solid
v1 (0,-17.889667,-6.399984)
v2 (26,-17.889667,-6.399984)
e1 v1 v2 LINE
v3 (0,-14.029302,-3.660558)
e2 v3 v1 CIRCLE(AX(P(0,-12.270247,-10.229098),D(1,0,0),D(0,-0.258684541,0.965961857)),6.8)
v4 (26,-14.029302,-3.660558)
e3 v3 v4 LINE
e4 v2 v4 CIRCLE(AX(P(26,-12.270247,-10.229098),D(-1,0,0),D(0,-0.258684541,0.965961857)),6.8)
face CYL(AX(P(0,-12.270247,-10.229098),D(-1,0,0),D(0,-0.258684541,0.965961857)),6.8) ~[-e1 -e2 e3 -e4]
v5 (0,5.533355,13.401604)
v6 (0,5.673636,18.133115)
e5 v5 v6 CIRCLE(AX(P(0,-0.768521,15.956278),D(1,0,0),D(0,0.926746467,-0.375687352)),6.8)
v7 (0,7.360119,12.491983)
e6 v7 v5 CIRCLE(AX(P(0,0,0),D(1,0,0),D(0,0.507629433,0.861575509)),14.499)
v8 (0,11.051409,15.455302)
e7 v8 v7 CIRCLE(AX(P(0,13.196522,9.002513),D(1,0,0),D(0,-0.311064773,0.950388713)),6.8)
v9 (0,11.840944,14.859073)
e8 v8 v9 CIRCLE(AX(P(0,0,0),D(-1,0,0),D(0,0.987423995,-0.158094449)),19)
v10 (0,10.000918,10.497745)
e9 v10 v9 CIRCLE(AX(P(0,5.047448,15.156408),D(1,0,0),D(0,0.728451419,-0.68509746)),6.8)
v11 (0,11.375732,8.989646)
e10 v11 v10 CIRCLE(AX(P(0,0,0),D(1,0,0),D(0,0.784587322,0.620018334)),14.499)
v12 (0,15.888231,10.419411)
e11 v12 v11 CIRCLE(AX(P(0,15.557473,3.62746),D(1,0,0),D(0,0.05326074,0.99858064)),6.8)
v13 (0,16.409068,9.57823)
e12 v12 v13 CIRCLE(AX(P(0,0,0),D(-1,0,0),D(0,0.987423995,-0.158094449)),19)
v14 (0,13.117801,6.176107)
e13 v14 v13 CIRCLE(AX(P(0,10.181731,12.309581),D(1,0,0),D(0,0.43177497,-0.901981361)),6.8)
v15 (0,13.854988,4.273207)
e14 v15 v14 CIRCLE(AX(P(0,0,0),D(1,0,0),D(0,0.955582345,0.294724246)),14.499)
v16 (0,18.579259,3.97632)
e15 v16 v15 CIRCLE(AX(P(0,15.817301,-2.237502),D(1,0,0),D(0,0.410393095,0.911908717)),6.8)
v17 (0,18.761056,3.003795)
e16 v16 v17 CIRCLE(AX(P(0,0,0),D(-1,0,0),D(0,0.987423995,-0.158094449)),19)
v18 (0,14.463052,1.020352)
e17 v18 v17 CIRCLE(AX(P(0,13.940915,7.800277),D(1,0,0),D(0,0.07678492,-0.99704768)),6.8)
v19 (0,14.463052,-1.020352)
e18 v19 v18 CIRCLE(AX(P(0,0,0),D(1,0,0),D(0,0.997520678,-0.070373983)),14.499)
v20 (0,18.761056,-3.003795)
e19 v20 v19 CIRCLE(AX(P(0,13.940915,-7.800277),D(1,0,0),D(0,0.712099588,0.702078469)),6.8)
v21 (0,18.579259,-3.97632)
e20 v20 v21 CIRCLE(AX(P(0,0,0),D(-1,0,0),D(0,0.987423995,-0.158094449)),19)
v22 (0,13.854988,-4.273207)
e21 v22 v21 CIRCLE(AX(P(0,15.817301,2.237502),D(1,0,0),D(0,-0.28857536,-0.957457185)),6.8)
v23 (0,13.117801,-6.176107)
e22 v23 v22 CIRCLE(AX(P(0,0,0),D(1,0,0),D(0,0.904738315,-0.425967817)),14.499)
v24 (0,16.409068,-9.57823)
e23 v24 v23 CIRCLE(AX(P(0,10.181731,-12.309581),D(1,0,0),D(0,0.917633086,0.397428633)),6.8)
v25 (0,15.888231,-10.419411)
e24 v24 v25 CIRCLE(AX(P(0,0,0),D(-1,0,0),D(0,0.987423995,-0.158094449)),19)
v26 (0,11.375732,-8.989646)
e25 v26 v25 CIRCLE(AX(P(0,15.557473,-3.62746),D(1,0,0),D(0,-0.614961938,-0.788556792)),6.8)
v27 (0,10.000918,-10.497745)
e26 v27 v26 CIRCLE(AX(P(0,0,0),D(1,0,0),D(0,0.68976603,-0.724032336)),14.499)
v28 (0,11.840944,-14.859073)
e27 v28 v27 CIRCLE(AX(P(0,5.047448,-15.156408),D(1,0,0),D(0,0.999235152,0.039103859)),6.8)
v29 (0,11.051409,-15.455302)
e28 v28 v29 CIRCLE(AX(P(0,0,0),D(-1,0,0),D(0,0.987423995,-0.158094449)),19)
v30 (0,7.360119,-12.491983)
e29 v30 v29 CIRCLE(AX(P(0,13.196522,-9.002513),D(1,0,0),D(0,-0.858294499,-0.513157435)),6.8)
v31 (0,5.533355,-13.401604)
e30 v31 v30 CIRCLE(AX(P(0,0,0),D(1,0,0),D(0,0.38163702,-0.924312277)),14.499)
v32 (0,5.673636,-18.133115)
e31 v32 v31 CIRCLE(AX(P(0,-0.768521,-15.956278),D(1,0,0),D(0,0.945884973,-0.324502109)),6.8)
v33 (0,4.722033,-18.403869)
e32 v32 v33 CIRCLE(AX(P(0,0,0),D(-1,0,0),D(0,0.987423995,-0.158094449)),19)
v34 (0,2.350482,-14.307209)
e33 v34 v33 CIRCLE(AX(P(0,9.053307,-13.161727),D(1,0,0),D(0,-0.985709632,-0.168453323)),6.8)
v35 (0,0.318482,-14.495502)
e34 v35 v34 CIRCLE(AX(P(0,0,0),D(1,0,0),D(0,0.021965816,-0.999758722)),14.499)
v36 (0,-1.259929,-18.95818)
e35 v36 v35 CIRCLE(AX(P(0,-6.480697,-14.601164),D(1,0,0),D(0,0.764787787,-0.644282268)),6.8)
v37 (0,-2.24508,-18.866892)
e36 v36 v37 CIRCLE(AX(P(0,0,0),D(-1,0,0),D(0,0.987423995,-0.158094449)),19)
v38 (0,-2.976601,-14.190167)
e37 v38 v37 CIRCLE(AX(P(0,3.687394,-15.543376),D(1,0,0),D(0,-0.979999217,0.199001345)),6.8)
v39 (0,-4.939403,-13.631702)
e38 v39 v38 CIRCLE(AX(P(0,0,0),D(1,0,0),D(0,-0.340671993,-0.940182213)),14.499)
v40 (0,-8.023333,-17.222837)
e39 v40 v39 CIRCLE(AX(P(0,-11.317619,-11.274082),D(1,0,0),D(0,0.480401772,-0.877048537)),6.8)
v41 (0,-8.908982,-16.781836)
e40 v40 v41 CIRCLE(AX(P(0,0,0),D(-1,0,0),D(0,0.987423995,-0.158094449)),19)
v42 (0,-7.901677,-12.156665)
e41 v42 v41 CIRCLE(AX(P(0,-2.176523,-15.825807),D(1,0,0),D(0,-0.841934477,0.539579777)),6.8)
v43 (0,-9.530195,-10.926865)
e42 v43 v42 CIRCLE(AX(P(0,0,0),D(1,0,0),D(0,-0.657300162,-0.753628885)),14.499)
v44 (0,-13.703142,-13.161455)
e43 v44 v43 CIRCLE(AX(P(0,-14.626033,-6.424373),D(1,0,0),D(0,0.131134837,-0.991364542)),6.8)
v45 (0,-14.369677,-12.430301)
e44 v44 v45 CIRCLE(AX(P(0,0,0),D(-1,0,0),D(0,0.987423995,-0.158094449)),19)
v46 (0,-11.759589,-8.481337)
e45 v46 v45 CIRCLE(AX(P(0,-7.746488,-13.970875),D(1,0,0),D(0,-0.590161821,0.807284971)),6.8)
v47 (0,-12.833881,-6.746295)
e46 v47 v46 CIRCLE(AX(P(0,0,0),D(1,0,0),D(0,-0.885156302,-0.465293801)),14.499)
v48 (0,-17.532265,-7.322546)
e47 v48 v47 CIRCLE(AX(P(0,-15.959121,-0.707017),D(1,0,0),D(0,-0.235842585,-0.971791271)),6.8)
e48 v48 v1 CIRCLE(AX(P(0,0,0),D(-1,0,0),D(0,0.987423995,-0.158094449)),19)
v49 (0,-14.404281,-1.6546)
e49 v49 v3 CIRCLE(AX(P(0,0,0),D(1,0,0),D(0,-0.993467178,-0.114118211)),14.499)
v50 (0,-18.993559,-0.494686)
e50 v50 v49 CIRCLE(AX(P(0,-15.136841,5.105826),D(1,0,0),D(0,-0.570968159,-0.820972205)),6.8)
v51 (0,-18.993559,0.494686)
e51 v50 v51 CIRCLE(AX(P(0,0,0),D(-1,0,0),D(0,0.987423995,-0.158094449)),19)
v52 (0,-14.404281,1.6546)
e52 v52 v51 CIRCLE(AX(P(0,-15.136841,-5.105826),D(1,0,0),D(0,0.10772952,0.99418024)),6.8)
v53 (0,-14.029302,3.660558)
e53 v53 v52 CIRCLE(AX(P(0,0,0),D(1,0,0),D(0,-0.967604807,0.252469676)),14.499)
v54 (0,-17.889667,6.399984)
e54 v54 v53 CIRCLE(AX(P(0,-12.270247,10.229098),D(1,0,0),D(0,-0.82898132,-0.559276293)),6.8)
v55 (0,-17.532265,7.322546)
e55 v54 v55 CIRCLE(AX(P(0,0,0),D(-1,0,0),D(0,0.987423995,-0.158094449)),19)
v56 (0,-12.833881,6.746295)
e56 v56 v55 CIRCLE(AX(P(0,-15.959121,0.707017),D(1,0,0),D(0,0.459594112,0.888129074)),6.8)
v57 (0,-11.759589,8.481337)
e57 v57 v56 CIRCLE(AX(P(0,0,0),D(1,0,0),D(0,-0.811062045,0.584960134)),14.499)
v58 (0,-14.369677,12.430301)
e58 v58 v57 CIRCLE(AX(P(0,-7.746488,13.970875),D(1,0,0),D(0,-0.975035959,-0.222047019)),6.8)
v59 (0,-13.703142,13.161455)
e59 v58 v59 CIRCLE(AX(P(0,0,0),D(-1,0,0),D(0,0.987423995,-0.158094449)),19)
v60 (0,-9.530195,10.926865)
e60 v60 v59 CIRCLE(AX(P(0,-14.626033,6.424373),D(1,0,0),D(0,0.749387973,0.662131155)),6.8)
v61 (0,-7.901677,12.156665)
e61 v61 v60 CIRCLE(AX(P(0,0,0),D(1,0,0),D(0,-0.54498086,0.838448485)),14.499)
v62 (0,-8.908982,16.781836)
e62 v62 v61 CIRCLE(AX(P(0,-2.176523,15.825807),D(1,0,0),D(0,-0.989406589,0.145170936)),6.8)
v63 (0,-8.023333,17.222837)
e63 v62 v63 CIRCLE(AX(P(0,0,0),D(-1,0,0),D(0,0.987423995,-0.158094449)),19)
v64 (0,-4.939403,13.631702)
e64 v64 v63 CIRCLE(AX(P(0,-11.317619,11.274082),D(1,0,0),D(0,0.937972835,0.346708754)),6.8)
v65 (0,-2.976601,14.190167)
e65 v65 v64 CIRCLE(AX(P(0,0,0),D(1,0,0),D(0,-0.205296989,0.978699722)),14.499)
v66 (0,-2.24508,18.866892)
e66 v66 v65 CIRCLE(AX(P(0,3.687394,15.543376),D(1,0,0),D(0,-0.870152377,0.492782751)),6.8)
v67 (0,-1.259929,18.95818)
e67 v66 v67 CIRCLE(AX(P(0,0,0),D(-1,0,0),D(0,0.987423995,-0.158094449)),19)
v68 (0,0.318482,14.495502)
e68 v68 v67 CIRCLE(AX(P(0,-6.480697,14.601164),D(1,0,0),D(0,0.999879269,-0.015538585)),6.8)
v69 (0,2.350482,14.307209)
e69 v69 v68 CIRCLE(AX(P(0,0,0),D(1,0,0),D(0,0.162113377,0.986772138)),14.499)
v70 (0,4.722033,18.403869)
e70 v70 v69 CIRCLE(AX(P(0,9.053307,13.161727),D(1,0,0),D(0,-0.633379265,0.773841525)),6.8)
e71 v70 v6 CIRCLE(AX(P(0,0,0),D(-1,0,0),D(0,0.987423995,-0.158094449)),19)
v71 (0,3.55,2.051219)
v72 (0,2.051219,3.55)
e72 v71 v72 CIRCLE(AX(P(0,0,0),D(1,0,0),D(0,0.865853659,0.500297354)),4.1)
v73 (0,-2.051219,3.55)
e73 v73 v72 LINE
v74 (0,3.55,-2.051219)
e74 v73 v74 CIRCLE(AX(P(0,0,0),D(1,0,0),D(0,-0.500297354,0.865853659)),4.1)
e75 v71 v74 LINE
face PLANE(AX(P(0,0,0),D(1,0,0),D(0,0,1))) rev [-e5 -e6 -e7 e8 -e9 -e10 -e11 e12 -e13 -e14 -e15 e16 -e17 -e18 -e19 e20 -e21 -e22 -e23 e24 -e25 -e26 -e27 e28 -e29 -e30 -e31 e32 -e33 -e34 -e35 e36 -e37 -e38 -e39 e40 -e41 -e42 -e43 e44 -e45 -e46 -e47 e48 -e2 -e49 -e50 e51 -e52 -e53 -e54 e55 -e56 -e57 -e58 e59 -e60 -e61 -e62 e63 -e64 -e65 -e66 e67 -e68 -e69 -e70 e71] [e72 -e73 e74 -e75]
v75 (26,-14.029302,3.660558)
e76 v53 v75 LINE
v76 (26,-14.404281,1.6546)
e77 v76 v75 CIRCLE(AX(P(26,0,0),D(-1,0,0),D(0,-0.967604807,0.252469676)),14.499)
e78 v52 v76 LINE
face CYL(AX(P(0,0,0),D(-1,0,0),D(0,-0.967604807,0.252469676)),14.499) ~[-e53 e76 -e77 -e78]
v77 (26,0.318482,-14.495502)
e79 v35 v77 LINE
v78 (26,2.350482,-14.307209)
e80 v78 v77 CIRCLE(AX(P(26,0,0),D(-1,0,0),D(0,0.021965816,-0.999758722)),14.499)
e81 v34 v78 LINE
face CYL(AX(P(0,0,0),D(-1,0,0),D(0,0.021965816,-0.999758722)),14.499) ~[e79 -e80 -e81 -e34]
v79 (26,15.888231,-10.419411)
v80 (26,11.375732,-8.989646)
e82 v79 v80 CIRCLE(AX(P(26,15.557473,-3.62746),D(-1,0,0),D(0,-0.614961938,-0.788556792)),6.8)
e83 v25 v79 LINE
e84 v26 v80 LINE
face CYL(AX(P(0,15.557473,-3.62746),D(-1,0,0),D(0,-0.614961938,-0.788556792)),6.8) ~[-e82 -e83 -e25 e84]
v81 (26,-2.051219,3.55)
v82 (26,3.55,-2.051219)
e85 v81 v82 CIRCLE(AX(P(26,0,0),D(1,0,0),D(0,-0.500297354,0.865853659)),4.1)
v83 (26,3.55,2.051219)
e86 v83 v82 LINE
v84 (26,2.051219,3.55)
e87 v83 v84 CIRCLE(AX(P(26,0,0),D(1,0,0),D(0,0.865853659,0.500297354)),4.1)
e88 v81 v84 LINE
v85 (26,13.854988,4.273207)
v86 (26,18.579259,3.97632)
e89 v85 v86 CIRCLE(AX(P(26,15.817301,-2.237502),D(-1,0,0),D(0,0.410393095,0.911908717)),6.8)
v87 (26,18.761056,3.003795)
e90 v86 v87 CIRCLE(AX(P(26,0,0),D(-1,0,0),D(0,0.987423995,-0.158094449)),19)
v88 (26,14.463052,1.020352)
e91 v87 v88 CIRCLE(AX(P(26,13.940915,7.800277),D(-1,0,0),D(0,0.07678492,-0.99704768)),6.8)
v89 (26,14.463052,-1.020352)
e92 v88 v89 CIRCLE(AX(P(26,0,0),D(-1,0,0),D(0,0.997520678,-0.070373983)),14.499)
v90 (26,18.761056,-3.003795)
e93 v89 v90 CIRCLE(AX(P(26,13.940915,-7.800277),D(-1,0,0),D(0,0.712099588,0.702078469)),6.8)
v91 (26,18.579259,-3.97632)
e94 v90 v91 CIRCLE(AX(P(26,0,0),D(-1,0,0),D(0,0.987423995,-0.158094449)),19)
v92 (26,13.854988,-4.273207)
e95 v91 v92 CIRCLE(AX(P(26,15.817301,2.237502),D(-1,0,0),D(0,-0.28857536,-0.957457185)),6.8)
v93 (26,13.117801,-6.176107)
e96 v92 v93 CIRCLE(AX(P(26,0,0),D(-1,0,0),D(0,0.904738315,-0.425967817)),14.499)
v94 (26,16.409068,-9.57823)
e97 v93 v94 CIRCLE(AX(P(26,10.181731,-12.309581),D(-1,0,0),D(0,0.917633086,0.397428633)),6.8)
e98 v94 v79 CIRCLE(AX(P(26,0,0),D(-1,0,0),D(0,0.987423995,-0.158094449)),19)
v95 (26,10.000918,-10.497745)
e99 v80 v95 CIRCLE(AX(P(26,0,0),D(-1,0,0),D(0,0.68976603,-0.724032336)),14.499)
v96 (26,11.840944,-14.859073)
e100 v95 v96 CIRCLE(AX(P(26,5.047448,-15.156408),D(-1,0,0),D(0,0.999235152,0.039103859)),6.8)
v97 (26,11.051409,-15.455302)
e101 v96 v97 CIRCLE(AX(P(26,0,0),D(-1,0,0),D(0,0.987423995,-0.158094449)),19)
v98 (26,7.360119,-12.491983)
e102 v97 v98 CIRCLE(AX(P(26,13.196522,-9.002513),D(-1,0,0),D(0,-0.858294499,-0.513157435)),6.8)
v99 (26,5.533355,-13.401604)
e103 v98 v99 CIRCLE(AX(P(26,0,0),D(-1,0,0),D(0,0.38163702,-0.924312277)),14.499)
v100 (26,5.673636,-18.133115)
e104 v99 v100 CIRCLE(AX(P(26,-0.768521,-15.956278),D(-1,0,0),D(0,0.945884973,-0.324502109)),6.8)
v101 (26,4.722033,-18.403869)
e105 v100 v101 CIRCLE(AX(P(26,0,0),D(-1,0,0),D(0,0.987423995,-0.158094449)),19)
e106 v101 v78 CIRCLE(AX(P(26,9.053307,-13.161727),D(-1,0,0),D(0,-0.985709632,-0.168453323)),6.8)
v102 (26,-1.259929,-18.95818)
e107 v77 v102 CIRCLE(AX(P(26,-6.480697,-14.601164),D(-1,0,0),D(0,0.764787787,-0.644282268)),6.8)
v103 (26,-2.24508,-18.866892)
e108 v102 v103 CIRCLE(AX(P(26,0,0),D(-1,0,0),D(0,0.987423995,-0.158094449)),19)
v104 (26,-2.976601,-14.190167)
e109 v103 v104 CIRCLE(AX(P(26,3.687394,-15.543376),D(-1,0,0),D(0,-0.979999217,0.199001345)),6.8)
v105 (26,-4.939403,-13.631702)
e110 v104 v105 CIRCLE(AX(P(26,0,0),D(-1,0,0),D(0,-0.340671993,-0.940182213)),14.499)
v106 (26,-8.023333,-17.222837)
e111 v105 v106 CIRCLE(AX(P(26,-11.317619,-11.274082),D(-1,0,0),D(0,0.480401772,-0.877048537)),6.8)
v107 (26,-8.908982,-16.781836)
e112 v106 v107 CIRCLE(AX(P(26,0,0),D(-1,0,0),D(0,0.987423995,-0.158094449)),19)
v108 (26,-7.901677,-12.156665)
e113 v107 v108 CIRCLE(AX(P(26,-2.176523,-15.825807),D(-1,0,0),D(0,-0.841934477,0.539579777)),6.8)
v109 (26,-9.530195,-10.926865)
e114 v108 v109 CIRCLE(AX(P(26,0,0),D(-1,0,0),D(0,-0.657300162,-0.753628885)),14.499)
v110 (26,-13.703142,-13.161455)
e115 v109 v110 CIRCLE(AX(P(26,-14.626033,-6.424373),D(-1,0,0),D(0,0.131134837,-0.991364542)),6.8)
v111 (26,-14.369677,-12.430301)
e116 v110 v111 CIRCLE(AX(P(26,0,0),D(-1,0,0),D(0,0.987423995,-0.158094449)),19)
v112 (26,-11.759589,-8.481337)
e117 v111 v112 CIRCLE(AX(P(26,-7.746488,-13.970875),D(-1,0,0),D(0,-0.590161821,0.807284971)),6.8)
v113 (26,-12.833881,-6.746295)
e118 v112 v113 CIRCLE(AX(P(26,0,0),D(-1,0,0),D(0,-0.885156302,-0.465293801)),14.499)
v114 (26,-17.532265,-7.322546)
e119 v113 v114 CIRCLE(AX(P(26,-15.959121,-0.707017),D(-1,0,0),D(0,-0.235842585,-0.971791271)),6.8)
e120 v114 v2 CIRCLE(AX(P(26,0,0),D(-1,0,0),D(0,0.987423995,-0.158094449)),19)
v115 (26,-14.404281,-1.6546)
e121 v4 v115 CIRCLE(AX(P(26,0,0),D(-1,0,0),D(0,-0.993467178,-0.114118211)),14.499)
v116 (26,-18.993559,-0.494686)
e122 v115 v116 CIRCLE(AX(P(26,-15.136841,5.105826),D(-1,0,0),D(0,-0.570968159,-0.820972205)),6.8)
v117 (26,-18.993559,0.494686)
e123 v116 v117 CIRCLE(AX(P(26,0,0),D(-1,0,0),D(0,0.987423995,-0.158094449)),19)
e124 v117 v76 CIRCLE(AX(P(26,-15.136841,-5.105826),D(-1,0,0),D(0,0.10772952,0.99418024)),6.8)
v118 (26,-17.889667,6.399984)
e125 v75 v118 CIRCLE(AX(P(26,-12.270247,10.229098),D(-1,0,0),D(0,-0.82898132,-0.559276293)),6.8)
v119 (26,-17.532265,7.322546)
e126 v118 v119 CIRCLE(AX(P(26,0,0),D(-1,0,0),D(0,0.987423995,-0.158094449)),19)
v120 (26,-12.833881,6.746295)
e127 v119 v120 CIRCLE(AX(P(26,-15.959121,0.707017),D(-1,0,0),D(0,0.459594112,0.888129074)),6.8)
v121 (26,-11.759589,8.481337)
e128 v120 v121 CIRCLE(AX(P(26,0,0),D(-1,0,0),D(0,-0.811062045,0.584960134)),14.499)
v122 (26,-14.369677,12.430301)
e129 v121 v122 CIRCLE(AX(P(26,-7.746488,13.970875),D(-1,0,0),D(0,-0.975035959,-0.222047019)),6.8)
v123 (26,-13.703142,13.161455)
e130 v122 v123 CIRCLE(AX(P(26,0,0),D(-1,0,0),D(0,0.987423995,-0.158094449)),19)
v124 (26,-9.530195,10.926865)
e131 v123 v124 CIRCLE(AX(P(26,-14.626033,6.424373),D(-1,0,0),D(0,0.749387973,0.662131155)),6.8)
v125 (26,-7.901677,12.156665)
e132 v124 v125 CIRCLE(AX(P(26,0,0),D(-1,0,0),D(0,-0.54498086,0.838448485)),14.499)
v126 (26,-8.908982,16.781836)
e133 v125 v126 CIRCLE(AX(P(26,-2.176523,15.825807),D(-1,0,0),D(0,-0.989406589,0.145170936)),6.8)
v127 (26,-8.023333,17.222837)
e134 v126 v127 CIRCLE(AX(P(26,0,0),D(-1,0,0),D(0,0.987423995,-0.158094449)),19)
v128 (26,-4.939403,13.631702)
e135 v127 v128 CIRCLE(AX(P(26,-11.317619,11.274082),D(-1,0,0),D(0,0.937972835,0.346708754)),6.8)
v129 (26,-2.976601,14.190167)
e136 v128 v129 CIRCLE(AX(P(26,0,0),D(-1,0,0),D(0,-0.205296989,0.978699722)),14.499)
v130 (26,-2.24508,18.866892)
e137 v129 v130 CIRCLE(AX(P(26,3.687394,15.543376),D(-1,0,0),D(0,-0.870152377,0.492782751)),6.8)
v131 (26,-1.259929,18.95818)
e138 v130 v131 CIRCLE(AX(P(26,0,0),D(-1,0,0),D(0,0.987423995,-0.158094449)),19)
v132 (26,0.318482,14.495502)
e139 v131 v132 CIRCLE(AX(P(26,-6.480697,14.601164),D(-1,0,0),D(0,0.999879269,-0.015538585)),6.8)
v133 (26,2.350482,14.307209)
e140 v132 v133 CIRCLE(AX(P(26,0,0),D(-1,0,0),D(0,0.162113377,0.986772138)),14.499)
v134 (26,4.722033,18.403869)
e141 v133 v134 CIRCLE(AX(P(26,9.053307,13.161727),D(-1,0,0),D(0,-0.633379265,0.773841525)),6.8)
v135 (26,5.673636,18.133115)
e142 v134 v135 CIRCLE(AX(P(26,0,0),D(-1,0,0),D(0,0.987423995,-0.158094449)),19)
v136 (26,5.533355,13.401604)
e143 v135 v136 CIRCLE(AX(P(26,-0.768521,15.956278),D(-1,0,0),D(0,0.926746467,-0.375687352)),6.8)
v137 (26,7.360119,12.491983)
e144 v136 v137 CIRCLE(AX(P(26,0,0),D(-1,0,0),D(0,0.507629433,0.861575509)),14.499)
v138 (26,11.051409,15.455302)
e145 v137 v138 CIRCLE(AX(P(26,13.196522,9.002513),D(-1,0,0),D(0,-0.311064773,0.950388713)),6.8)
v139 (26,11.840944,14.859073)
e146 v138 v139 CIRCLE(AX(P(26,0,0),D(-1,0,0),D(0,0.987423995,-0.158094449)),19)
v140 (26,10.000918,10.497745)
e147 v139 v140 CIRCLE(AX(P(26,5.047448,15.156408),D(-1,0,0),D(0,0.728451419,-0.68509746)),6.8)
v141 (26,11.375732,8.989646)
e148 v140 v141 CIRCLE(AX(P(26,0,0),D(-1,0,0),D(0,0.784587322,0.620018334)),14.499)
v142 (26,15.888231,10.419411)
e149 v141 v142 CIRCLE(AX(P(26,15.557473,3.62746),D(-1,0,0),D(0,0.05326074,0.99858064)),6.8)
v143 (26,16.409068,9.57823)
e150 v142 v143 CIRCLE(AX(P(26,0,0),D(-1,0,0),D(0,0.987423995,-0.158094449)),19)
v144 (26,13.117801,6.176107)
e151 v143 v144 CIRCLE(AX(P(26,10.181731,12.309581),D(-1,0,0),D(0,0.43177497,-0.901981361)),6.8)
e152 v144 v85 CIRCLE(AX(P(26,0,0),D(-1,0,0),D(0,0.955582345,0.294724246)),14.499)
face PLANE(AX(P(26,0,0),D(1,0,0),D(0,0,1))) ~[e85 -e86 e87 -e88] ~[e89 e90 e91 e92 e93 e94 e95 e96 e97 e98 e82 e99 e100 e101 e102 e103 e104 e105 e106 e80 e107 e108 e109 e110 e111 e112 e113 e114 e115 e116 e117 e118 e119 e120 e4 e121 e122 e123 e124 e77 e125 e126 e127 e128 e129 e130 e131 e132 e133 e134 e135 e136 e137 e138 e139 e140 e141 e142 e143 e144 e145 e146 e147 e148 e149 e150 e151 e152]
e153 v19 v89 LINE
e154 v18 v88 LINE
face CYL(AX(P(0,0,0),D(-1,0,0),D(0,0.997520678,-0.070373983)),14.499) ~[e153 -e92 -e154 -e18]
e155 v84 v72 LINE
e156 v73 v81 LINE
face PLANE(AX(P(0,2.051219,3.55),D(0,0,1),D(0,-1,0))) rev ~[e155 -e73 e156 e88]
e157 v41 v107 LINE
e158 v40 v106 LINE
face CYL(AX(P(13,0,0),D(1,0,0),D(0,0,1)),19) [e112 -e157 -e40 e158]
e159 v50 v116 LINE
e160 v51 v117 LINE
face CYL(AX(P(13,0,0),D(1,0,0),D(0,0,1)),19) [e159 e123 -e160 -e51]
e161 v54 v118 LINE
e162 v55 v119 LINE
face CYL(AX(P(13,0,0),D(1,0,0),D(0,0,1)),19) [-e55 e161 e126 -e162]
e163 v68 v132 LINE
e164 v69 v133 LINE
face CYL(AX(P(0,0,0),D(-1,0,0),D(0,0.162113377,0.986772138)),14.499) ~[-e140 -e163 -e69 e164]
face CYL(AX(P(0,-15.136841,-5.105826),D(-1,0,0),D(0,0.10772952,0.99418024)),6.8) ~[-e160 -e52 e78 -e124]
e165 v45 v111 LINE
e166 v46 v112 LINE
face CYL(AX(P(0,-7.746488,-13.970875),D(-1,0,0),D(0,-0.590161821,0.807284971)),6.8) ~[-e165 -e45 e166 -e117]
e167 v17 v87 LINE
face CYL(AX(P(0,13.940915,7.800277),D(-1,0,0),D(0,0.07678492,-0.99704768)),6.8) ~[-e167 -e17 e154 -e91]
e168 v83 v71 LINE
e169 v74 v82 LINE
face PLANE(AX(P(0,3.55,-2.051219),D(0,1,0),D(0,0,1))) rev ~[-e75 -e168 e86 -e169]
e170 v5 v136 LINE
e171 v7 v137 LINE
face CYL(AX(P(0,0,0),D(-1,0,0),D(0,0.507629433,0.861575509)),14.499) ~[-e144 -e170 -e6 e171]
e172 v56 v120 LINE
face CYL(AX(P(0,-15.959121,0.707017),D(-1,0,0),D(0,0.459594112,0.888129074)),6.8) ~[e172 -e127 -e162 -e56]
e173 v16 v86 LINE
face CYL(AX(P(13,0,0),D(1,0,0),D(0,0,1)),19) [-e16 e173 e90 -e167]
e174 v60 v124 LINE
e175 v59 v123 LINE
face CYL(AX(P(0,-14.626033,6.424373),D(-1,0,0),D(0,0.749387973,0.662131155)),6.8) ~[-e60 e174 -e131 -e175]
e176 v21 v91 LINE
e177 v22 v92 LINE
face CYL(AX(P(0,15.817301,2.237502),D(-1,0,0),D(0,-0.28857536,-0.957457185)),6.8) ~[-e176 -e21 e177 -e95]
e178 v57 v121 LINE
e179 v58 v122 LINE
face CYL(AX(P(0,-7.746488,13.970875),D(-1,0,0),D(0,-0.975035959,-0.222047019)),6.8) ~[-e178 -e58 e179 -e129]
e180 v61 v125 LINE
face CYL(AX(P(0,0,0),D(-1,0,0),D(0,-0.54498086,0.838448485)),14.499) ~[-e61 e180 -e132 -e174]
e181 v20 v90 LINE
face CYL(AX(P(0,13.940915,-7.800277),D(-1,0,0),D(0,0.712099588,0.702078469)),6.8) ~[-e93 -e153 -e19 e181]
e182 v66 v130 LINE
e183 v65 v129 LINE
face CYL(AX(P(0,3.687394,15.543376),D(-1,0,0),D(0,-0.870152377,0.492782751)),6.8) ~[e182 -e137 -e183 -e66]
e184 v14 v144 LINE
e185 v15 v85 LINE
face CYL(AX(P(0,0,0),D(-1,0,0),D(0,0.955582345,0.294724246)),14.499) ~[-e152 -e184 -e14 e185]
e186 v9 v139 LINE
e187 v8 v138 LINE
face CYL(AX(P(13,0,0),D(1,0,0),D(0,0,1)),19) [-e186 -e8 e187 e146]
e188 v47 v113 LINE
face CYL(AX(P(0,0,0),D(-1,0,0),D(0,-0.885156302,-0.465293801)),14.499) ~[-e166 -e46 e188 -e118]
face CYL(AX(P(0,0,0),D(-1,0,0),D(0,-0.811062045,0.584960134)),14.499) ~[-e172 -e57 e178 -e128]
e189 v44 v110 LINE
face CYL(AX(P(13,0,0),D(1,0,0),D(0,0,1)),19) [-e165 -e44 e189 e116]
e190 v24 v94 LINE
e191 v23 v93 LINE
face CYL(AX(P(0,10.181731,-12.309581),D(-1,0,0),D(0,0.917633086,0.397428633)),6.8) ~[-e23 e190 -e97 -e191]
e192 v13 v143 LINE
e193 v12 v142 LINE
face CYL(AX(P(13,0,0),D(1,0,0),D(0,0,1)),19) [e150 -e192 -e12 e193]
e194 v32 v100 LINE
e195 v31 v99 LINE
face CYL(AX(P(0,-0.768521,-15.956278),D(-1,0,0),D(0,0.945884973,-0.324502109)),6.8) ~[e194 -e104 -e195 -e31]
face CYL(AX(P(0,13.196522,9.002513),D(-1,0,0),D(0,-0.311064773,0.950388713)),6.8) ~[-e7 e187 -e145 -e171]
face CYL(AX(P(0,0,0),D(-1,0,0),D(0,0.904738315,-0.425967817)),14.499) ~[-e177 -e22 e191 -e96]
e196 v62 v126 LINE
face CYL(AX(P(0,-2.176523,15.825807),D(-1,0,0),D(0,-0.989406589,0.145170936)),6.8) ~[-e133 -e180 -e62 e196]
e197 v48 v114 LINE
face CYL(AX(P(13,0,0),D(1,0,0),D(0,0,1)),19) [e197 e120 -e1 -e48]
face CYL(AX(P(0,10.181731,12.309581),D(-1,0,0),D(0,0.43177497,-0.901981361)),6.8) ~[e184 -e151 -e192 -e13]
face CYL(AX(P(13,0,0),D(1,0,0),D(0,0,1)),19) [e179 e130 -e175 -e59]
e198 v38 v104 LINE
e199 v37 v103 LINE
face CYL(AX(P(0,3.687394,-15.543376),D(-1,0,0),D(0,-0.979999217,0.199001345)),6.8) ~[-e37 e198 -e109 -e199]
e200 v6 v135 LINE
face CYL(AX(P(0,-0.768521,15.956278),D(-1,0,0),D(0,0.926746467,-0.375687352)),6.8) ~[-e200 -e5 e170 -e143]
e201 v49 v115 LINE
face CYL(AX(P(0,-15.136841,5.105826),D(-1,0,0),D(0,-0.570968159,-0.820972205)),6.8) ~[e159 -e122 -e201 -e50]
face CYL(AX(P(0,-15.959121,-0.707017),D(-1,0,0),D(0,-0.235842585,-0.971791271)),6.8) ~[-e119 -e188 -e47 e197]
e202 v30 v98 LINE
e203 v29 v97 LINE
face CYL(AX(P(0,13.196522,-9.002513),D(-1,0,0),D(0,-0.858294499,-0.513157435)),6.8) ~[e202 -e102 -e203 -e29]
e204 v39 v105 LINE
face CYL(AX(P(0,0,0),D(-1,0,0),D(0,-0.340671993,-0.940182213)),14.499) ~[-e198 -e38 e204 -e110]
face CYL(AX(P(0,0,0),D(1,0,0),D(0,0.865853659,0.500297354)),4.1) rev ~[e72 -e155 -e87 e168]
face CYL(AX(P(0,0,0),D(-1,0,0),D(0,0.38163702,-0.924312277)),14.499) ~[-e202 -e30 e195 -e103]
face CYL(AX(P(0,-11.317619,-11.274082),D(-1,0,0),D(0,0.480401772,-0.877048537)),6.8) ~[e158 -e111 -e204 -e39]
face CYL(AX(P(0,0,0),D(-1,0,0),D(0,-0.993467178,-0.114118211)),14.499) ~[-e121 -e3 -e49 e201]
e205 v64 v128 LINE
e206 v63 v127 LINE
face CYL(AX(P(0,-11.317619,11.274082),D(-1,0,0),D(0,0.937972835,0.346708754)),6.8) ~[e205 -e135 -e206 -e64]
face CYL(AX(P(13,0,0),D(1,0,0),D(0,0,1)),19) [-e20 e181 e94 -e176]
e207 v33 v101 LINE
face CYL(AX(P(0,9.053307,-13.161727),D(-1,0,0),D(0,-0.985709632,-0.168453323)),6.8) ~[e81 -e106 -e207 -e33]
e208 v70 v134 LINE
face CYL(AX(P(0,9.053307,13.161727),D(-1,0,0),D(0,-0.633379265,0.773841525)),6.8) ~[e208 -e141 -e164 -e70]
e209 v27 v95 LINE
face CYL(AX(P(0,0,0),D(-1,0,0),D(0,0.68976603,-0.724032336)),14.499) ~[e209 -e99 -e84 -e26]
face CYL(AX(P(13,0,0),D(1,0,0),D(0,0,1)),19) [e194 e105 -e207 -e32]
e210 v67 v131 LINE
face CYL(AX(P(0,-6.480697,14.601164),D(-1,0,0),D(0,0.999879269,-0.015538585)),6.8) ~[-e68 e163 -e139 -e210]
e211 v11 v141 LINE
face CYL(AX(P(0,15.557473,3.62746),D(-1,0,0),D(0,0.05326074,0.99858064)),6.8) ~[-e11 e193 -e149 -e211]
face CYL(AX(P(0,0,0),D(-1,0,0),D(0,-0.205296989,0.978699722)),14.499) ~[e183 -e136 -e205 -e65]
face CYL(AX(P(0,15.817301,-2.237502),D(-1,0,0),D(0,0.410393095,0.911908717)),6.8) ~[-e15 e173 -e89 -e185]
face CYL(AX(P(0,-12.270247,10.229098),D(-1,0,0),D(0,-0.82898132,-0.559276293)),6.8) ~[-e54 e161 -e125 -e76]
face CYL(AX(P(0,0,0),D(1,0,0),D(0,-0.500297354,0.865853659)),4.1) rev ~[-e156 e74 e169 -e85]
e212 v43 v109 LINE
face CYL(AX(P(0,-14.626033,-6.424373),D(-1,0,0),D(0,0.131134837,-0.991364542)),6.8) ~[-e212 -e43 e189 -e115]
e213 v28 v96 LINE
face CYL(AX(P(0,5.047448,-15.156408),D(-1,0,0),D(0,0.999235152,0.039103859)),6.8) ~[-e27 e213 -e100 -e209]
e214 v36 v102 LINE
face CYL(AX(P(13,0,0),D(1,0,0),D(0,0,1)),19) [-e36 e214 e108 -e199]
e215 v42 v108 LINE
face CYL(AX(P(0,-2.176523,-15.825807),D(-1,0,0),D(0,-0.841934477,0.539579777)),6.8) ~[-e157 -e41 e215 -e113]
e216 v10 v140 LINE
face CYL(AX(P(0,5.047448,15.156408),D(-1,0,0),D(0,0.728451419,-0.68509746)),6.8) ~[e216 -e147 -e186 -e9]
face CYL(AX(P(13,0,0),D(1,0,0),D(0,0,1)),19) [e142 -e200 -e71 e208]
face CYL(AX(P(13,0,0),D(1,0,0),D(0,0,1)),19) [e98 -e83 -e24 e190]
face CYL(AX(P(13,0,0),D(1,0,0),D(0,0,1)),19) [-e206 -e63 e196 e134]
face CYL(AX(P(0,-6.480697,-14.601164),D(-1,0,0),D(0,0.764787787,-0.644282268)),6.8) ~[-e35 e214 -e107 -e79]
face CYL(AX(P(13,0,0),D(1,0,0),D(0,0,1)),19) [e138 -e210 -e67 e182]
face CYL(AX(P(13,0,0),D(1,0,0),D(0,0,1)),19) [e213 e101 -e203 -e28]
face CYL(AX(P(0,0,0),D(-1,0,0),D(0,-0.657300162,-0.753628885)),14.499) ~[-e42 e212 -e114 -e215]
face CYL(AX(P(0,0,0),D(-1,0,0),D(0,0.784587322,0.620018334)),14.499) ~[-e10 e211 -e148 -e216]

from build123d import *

# Parameters (mm, degrees)
BASPROSKE_W     = 26
BASPROSKE_H     = 19
TOOTHCUT_DEPTH  = 38.389838192
TEETHCUTS_COUNT = 17
TEETHCUTS_ANGLE = 338.823529412
BORE_DEPTH      = 50.0000508


with BuildPart() as part:
    # BasProSke → Base-Revolve (revolve)
    with BuildSketch(Plane(origin=(0, 0, 0), x_dir=(1, 0, 0), z_dir=(0, 1, 0)), mode=Mode.PRIVATE) as base_revolve_sk:
        with Locations((13, 9.5)):
            Rectangle(BASPROSKE_W, BASPROSKE_H)
    revolve(base_revolve_sk.sketch.rotate(Axis((-10, 0, 0), (1, 0, 0)), 180), axis=Axis((-10, 0, 0), (1, 0, 0)))

    # TooCutSke → ToothCut (cut, through all)
    with BuildSketch(Plane(origin=(0, 0, 0), x_dir=(0, 0, -1), z_dir=(1, 0, 0))):
        with BuildLine():
            ThreePointArc((1.020352389, 14.463052306), (0, 14.499), (-1.020352389, 14.463052306))
            ThreePointArc((-1.020352389, 14.463052306), (-1.632621885, 16.804485203), (-3.026143023, 18.783192049))
            ThreePointArc((-3.026143023, 18.783192049), (0, 19.0254), (3.026143023, 18.783192049))
            ThreePointArc((3.026143023, 18.783192049), (1.632621885, 16.804485203), (1.020352389, 14.463052306))
        make_face()
    toothcut = extrude(amount=TOOTHCUT_DEPTH, mode=Mode.SUBTRACT)

    # TeethCuts: ToothCut ×17 about axis
    teethcuts_axis = Axis((-10, 0, 0), (1, 0, 0))
    for i in range(1, TEETHCUTS_COUNT):
        add(toothcut.rotate(teethcuts_axis, i * TEETHCUTS_ANGLE / (TEETHCUTS_COUNT - 1)), mode=Mode.SUBTRACT)

    # BorSke → Bore (cut, symmetric)
    with BuildSketch(Plane(origin=(0, 0, 0), x_dir=(0, 0, -1), z_dir=(1, 0, 0))):
        with BuildLine():
            Line((-3.55, 2.05121915), (-3.55, -2.05121915))
            ThreePointArc((-3.55, -2.05121915), (2.899137803, -2.899137803), (2.05121915, 3.55))
            Line((2.05121915, 3.55), (-2.05121915, 3.55))
            ThreePointArc((-2.05121915, 3.55), (-2.899137803, 2.899137803), (-3.55, 2.05121915))
        make_face()
    extrude(amount=BORE_DEPTH, both=True, mode=Mode.SUBTRACT)


solid = part.part
